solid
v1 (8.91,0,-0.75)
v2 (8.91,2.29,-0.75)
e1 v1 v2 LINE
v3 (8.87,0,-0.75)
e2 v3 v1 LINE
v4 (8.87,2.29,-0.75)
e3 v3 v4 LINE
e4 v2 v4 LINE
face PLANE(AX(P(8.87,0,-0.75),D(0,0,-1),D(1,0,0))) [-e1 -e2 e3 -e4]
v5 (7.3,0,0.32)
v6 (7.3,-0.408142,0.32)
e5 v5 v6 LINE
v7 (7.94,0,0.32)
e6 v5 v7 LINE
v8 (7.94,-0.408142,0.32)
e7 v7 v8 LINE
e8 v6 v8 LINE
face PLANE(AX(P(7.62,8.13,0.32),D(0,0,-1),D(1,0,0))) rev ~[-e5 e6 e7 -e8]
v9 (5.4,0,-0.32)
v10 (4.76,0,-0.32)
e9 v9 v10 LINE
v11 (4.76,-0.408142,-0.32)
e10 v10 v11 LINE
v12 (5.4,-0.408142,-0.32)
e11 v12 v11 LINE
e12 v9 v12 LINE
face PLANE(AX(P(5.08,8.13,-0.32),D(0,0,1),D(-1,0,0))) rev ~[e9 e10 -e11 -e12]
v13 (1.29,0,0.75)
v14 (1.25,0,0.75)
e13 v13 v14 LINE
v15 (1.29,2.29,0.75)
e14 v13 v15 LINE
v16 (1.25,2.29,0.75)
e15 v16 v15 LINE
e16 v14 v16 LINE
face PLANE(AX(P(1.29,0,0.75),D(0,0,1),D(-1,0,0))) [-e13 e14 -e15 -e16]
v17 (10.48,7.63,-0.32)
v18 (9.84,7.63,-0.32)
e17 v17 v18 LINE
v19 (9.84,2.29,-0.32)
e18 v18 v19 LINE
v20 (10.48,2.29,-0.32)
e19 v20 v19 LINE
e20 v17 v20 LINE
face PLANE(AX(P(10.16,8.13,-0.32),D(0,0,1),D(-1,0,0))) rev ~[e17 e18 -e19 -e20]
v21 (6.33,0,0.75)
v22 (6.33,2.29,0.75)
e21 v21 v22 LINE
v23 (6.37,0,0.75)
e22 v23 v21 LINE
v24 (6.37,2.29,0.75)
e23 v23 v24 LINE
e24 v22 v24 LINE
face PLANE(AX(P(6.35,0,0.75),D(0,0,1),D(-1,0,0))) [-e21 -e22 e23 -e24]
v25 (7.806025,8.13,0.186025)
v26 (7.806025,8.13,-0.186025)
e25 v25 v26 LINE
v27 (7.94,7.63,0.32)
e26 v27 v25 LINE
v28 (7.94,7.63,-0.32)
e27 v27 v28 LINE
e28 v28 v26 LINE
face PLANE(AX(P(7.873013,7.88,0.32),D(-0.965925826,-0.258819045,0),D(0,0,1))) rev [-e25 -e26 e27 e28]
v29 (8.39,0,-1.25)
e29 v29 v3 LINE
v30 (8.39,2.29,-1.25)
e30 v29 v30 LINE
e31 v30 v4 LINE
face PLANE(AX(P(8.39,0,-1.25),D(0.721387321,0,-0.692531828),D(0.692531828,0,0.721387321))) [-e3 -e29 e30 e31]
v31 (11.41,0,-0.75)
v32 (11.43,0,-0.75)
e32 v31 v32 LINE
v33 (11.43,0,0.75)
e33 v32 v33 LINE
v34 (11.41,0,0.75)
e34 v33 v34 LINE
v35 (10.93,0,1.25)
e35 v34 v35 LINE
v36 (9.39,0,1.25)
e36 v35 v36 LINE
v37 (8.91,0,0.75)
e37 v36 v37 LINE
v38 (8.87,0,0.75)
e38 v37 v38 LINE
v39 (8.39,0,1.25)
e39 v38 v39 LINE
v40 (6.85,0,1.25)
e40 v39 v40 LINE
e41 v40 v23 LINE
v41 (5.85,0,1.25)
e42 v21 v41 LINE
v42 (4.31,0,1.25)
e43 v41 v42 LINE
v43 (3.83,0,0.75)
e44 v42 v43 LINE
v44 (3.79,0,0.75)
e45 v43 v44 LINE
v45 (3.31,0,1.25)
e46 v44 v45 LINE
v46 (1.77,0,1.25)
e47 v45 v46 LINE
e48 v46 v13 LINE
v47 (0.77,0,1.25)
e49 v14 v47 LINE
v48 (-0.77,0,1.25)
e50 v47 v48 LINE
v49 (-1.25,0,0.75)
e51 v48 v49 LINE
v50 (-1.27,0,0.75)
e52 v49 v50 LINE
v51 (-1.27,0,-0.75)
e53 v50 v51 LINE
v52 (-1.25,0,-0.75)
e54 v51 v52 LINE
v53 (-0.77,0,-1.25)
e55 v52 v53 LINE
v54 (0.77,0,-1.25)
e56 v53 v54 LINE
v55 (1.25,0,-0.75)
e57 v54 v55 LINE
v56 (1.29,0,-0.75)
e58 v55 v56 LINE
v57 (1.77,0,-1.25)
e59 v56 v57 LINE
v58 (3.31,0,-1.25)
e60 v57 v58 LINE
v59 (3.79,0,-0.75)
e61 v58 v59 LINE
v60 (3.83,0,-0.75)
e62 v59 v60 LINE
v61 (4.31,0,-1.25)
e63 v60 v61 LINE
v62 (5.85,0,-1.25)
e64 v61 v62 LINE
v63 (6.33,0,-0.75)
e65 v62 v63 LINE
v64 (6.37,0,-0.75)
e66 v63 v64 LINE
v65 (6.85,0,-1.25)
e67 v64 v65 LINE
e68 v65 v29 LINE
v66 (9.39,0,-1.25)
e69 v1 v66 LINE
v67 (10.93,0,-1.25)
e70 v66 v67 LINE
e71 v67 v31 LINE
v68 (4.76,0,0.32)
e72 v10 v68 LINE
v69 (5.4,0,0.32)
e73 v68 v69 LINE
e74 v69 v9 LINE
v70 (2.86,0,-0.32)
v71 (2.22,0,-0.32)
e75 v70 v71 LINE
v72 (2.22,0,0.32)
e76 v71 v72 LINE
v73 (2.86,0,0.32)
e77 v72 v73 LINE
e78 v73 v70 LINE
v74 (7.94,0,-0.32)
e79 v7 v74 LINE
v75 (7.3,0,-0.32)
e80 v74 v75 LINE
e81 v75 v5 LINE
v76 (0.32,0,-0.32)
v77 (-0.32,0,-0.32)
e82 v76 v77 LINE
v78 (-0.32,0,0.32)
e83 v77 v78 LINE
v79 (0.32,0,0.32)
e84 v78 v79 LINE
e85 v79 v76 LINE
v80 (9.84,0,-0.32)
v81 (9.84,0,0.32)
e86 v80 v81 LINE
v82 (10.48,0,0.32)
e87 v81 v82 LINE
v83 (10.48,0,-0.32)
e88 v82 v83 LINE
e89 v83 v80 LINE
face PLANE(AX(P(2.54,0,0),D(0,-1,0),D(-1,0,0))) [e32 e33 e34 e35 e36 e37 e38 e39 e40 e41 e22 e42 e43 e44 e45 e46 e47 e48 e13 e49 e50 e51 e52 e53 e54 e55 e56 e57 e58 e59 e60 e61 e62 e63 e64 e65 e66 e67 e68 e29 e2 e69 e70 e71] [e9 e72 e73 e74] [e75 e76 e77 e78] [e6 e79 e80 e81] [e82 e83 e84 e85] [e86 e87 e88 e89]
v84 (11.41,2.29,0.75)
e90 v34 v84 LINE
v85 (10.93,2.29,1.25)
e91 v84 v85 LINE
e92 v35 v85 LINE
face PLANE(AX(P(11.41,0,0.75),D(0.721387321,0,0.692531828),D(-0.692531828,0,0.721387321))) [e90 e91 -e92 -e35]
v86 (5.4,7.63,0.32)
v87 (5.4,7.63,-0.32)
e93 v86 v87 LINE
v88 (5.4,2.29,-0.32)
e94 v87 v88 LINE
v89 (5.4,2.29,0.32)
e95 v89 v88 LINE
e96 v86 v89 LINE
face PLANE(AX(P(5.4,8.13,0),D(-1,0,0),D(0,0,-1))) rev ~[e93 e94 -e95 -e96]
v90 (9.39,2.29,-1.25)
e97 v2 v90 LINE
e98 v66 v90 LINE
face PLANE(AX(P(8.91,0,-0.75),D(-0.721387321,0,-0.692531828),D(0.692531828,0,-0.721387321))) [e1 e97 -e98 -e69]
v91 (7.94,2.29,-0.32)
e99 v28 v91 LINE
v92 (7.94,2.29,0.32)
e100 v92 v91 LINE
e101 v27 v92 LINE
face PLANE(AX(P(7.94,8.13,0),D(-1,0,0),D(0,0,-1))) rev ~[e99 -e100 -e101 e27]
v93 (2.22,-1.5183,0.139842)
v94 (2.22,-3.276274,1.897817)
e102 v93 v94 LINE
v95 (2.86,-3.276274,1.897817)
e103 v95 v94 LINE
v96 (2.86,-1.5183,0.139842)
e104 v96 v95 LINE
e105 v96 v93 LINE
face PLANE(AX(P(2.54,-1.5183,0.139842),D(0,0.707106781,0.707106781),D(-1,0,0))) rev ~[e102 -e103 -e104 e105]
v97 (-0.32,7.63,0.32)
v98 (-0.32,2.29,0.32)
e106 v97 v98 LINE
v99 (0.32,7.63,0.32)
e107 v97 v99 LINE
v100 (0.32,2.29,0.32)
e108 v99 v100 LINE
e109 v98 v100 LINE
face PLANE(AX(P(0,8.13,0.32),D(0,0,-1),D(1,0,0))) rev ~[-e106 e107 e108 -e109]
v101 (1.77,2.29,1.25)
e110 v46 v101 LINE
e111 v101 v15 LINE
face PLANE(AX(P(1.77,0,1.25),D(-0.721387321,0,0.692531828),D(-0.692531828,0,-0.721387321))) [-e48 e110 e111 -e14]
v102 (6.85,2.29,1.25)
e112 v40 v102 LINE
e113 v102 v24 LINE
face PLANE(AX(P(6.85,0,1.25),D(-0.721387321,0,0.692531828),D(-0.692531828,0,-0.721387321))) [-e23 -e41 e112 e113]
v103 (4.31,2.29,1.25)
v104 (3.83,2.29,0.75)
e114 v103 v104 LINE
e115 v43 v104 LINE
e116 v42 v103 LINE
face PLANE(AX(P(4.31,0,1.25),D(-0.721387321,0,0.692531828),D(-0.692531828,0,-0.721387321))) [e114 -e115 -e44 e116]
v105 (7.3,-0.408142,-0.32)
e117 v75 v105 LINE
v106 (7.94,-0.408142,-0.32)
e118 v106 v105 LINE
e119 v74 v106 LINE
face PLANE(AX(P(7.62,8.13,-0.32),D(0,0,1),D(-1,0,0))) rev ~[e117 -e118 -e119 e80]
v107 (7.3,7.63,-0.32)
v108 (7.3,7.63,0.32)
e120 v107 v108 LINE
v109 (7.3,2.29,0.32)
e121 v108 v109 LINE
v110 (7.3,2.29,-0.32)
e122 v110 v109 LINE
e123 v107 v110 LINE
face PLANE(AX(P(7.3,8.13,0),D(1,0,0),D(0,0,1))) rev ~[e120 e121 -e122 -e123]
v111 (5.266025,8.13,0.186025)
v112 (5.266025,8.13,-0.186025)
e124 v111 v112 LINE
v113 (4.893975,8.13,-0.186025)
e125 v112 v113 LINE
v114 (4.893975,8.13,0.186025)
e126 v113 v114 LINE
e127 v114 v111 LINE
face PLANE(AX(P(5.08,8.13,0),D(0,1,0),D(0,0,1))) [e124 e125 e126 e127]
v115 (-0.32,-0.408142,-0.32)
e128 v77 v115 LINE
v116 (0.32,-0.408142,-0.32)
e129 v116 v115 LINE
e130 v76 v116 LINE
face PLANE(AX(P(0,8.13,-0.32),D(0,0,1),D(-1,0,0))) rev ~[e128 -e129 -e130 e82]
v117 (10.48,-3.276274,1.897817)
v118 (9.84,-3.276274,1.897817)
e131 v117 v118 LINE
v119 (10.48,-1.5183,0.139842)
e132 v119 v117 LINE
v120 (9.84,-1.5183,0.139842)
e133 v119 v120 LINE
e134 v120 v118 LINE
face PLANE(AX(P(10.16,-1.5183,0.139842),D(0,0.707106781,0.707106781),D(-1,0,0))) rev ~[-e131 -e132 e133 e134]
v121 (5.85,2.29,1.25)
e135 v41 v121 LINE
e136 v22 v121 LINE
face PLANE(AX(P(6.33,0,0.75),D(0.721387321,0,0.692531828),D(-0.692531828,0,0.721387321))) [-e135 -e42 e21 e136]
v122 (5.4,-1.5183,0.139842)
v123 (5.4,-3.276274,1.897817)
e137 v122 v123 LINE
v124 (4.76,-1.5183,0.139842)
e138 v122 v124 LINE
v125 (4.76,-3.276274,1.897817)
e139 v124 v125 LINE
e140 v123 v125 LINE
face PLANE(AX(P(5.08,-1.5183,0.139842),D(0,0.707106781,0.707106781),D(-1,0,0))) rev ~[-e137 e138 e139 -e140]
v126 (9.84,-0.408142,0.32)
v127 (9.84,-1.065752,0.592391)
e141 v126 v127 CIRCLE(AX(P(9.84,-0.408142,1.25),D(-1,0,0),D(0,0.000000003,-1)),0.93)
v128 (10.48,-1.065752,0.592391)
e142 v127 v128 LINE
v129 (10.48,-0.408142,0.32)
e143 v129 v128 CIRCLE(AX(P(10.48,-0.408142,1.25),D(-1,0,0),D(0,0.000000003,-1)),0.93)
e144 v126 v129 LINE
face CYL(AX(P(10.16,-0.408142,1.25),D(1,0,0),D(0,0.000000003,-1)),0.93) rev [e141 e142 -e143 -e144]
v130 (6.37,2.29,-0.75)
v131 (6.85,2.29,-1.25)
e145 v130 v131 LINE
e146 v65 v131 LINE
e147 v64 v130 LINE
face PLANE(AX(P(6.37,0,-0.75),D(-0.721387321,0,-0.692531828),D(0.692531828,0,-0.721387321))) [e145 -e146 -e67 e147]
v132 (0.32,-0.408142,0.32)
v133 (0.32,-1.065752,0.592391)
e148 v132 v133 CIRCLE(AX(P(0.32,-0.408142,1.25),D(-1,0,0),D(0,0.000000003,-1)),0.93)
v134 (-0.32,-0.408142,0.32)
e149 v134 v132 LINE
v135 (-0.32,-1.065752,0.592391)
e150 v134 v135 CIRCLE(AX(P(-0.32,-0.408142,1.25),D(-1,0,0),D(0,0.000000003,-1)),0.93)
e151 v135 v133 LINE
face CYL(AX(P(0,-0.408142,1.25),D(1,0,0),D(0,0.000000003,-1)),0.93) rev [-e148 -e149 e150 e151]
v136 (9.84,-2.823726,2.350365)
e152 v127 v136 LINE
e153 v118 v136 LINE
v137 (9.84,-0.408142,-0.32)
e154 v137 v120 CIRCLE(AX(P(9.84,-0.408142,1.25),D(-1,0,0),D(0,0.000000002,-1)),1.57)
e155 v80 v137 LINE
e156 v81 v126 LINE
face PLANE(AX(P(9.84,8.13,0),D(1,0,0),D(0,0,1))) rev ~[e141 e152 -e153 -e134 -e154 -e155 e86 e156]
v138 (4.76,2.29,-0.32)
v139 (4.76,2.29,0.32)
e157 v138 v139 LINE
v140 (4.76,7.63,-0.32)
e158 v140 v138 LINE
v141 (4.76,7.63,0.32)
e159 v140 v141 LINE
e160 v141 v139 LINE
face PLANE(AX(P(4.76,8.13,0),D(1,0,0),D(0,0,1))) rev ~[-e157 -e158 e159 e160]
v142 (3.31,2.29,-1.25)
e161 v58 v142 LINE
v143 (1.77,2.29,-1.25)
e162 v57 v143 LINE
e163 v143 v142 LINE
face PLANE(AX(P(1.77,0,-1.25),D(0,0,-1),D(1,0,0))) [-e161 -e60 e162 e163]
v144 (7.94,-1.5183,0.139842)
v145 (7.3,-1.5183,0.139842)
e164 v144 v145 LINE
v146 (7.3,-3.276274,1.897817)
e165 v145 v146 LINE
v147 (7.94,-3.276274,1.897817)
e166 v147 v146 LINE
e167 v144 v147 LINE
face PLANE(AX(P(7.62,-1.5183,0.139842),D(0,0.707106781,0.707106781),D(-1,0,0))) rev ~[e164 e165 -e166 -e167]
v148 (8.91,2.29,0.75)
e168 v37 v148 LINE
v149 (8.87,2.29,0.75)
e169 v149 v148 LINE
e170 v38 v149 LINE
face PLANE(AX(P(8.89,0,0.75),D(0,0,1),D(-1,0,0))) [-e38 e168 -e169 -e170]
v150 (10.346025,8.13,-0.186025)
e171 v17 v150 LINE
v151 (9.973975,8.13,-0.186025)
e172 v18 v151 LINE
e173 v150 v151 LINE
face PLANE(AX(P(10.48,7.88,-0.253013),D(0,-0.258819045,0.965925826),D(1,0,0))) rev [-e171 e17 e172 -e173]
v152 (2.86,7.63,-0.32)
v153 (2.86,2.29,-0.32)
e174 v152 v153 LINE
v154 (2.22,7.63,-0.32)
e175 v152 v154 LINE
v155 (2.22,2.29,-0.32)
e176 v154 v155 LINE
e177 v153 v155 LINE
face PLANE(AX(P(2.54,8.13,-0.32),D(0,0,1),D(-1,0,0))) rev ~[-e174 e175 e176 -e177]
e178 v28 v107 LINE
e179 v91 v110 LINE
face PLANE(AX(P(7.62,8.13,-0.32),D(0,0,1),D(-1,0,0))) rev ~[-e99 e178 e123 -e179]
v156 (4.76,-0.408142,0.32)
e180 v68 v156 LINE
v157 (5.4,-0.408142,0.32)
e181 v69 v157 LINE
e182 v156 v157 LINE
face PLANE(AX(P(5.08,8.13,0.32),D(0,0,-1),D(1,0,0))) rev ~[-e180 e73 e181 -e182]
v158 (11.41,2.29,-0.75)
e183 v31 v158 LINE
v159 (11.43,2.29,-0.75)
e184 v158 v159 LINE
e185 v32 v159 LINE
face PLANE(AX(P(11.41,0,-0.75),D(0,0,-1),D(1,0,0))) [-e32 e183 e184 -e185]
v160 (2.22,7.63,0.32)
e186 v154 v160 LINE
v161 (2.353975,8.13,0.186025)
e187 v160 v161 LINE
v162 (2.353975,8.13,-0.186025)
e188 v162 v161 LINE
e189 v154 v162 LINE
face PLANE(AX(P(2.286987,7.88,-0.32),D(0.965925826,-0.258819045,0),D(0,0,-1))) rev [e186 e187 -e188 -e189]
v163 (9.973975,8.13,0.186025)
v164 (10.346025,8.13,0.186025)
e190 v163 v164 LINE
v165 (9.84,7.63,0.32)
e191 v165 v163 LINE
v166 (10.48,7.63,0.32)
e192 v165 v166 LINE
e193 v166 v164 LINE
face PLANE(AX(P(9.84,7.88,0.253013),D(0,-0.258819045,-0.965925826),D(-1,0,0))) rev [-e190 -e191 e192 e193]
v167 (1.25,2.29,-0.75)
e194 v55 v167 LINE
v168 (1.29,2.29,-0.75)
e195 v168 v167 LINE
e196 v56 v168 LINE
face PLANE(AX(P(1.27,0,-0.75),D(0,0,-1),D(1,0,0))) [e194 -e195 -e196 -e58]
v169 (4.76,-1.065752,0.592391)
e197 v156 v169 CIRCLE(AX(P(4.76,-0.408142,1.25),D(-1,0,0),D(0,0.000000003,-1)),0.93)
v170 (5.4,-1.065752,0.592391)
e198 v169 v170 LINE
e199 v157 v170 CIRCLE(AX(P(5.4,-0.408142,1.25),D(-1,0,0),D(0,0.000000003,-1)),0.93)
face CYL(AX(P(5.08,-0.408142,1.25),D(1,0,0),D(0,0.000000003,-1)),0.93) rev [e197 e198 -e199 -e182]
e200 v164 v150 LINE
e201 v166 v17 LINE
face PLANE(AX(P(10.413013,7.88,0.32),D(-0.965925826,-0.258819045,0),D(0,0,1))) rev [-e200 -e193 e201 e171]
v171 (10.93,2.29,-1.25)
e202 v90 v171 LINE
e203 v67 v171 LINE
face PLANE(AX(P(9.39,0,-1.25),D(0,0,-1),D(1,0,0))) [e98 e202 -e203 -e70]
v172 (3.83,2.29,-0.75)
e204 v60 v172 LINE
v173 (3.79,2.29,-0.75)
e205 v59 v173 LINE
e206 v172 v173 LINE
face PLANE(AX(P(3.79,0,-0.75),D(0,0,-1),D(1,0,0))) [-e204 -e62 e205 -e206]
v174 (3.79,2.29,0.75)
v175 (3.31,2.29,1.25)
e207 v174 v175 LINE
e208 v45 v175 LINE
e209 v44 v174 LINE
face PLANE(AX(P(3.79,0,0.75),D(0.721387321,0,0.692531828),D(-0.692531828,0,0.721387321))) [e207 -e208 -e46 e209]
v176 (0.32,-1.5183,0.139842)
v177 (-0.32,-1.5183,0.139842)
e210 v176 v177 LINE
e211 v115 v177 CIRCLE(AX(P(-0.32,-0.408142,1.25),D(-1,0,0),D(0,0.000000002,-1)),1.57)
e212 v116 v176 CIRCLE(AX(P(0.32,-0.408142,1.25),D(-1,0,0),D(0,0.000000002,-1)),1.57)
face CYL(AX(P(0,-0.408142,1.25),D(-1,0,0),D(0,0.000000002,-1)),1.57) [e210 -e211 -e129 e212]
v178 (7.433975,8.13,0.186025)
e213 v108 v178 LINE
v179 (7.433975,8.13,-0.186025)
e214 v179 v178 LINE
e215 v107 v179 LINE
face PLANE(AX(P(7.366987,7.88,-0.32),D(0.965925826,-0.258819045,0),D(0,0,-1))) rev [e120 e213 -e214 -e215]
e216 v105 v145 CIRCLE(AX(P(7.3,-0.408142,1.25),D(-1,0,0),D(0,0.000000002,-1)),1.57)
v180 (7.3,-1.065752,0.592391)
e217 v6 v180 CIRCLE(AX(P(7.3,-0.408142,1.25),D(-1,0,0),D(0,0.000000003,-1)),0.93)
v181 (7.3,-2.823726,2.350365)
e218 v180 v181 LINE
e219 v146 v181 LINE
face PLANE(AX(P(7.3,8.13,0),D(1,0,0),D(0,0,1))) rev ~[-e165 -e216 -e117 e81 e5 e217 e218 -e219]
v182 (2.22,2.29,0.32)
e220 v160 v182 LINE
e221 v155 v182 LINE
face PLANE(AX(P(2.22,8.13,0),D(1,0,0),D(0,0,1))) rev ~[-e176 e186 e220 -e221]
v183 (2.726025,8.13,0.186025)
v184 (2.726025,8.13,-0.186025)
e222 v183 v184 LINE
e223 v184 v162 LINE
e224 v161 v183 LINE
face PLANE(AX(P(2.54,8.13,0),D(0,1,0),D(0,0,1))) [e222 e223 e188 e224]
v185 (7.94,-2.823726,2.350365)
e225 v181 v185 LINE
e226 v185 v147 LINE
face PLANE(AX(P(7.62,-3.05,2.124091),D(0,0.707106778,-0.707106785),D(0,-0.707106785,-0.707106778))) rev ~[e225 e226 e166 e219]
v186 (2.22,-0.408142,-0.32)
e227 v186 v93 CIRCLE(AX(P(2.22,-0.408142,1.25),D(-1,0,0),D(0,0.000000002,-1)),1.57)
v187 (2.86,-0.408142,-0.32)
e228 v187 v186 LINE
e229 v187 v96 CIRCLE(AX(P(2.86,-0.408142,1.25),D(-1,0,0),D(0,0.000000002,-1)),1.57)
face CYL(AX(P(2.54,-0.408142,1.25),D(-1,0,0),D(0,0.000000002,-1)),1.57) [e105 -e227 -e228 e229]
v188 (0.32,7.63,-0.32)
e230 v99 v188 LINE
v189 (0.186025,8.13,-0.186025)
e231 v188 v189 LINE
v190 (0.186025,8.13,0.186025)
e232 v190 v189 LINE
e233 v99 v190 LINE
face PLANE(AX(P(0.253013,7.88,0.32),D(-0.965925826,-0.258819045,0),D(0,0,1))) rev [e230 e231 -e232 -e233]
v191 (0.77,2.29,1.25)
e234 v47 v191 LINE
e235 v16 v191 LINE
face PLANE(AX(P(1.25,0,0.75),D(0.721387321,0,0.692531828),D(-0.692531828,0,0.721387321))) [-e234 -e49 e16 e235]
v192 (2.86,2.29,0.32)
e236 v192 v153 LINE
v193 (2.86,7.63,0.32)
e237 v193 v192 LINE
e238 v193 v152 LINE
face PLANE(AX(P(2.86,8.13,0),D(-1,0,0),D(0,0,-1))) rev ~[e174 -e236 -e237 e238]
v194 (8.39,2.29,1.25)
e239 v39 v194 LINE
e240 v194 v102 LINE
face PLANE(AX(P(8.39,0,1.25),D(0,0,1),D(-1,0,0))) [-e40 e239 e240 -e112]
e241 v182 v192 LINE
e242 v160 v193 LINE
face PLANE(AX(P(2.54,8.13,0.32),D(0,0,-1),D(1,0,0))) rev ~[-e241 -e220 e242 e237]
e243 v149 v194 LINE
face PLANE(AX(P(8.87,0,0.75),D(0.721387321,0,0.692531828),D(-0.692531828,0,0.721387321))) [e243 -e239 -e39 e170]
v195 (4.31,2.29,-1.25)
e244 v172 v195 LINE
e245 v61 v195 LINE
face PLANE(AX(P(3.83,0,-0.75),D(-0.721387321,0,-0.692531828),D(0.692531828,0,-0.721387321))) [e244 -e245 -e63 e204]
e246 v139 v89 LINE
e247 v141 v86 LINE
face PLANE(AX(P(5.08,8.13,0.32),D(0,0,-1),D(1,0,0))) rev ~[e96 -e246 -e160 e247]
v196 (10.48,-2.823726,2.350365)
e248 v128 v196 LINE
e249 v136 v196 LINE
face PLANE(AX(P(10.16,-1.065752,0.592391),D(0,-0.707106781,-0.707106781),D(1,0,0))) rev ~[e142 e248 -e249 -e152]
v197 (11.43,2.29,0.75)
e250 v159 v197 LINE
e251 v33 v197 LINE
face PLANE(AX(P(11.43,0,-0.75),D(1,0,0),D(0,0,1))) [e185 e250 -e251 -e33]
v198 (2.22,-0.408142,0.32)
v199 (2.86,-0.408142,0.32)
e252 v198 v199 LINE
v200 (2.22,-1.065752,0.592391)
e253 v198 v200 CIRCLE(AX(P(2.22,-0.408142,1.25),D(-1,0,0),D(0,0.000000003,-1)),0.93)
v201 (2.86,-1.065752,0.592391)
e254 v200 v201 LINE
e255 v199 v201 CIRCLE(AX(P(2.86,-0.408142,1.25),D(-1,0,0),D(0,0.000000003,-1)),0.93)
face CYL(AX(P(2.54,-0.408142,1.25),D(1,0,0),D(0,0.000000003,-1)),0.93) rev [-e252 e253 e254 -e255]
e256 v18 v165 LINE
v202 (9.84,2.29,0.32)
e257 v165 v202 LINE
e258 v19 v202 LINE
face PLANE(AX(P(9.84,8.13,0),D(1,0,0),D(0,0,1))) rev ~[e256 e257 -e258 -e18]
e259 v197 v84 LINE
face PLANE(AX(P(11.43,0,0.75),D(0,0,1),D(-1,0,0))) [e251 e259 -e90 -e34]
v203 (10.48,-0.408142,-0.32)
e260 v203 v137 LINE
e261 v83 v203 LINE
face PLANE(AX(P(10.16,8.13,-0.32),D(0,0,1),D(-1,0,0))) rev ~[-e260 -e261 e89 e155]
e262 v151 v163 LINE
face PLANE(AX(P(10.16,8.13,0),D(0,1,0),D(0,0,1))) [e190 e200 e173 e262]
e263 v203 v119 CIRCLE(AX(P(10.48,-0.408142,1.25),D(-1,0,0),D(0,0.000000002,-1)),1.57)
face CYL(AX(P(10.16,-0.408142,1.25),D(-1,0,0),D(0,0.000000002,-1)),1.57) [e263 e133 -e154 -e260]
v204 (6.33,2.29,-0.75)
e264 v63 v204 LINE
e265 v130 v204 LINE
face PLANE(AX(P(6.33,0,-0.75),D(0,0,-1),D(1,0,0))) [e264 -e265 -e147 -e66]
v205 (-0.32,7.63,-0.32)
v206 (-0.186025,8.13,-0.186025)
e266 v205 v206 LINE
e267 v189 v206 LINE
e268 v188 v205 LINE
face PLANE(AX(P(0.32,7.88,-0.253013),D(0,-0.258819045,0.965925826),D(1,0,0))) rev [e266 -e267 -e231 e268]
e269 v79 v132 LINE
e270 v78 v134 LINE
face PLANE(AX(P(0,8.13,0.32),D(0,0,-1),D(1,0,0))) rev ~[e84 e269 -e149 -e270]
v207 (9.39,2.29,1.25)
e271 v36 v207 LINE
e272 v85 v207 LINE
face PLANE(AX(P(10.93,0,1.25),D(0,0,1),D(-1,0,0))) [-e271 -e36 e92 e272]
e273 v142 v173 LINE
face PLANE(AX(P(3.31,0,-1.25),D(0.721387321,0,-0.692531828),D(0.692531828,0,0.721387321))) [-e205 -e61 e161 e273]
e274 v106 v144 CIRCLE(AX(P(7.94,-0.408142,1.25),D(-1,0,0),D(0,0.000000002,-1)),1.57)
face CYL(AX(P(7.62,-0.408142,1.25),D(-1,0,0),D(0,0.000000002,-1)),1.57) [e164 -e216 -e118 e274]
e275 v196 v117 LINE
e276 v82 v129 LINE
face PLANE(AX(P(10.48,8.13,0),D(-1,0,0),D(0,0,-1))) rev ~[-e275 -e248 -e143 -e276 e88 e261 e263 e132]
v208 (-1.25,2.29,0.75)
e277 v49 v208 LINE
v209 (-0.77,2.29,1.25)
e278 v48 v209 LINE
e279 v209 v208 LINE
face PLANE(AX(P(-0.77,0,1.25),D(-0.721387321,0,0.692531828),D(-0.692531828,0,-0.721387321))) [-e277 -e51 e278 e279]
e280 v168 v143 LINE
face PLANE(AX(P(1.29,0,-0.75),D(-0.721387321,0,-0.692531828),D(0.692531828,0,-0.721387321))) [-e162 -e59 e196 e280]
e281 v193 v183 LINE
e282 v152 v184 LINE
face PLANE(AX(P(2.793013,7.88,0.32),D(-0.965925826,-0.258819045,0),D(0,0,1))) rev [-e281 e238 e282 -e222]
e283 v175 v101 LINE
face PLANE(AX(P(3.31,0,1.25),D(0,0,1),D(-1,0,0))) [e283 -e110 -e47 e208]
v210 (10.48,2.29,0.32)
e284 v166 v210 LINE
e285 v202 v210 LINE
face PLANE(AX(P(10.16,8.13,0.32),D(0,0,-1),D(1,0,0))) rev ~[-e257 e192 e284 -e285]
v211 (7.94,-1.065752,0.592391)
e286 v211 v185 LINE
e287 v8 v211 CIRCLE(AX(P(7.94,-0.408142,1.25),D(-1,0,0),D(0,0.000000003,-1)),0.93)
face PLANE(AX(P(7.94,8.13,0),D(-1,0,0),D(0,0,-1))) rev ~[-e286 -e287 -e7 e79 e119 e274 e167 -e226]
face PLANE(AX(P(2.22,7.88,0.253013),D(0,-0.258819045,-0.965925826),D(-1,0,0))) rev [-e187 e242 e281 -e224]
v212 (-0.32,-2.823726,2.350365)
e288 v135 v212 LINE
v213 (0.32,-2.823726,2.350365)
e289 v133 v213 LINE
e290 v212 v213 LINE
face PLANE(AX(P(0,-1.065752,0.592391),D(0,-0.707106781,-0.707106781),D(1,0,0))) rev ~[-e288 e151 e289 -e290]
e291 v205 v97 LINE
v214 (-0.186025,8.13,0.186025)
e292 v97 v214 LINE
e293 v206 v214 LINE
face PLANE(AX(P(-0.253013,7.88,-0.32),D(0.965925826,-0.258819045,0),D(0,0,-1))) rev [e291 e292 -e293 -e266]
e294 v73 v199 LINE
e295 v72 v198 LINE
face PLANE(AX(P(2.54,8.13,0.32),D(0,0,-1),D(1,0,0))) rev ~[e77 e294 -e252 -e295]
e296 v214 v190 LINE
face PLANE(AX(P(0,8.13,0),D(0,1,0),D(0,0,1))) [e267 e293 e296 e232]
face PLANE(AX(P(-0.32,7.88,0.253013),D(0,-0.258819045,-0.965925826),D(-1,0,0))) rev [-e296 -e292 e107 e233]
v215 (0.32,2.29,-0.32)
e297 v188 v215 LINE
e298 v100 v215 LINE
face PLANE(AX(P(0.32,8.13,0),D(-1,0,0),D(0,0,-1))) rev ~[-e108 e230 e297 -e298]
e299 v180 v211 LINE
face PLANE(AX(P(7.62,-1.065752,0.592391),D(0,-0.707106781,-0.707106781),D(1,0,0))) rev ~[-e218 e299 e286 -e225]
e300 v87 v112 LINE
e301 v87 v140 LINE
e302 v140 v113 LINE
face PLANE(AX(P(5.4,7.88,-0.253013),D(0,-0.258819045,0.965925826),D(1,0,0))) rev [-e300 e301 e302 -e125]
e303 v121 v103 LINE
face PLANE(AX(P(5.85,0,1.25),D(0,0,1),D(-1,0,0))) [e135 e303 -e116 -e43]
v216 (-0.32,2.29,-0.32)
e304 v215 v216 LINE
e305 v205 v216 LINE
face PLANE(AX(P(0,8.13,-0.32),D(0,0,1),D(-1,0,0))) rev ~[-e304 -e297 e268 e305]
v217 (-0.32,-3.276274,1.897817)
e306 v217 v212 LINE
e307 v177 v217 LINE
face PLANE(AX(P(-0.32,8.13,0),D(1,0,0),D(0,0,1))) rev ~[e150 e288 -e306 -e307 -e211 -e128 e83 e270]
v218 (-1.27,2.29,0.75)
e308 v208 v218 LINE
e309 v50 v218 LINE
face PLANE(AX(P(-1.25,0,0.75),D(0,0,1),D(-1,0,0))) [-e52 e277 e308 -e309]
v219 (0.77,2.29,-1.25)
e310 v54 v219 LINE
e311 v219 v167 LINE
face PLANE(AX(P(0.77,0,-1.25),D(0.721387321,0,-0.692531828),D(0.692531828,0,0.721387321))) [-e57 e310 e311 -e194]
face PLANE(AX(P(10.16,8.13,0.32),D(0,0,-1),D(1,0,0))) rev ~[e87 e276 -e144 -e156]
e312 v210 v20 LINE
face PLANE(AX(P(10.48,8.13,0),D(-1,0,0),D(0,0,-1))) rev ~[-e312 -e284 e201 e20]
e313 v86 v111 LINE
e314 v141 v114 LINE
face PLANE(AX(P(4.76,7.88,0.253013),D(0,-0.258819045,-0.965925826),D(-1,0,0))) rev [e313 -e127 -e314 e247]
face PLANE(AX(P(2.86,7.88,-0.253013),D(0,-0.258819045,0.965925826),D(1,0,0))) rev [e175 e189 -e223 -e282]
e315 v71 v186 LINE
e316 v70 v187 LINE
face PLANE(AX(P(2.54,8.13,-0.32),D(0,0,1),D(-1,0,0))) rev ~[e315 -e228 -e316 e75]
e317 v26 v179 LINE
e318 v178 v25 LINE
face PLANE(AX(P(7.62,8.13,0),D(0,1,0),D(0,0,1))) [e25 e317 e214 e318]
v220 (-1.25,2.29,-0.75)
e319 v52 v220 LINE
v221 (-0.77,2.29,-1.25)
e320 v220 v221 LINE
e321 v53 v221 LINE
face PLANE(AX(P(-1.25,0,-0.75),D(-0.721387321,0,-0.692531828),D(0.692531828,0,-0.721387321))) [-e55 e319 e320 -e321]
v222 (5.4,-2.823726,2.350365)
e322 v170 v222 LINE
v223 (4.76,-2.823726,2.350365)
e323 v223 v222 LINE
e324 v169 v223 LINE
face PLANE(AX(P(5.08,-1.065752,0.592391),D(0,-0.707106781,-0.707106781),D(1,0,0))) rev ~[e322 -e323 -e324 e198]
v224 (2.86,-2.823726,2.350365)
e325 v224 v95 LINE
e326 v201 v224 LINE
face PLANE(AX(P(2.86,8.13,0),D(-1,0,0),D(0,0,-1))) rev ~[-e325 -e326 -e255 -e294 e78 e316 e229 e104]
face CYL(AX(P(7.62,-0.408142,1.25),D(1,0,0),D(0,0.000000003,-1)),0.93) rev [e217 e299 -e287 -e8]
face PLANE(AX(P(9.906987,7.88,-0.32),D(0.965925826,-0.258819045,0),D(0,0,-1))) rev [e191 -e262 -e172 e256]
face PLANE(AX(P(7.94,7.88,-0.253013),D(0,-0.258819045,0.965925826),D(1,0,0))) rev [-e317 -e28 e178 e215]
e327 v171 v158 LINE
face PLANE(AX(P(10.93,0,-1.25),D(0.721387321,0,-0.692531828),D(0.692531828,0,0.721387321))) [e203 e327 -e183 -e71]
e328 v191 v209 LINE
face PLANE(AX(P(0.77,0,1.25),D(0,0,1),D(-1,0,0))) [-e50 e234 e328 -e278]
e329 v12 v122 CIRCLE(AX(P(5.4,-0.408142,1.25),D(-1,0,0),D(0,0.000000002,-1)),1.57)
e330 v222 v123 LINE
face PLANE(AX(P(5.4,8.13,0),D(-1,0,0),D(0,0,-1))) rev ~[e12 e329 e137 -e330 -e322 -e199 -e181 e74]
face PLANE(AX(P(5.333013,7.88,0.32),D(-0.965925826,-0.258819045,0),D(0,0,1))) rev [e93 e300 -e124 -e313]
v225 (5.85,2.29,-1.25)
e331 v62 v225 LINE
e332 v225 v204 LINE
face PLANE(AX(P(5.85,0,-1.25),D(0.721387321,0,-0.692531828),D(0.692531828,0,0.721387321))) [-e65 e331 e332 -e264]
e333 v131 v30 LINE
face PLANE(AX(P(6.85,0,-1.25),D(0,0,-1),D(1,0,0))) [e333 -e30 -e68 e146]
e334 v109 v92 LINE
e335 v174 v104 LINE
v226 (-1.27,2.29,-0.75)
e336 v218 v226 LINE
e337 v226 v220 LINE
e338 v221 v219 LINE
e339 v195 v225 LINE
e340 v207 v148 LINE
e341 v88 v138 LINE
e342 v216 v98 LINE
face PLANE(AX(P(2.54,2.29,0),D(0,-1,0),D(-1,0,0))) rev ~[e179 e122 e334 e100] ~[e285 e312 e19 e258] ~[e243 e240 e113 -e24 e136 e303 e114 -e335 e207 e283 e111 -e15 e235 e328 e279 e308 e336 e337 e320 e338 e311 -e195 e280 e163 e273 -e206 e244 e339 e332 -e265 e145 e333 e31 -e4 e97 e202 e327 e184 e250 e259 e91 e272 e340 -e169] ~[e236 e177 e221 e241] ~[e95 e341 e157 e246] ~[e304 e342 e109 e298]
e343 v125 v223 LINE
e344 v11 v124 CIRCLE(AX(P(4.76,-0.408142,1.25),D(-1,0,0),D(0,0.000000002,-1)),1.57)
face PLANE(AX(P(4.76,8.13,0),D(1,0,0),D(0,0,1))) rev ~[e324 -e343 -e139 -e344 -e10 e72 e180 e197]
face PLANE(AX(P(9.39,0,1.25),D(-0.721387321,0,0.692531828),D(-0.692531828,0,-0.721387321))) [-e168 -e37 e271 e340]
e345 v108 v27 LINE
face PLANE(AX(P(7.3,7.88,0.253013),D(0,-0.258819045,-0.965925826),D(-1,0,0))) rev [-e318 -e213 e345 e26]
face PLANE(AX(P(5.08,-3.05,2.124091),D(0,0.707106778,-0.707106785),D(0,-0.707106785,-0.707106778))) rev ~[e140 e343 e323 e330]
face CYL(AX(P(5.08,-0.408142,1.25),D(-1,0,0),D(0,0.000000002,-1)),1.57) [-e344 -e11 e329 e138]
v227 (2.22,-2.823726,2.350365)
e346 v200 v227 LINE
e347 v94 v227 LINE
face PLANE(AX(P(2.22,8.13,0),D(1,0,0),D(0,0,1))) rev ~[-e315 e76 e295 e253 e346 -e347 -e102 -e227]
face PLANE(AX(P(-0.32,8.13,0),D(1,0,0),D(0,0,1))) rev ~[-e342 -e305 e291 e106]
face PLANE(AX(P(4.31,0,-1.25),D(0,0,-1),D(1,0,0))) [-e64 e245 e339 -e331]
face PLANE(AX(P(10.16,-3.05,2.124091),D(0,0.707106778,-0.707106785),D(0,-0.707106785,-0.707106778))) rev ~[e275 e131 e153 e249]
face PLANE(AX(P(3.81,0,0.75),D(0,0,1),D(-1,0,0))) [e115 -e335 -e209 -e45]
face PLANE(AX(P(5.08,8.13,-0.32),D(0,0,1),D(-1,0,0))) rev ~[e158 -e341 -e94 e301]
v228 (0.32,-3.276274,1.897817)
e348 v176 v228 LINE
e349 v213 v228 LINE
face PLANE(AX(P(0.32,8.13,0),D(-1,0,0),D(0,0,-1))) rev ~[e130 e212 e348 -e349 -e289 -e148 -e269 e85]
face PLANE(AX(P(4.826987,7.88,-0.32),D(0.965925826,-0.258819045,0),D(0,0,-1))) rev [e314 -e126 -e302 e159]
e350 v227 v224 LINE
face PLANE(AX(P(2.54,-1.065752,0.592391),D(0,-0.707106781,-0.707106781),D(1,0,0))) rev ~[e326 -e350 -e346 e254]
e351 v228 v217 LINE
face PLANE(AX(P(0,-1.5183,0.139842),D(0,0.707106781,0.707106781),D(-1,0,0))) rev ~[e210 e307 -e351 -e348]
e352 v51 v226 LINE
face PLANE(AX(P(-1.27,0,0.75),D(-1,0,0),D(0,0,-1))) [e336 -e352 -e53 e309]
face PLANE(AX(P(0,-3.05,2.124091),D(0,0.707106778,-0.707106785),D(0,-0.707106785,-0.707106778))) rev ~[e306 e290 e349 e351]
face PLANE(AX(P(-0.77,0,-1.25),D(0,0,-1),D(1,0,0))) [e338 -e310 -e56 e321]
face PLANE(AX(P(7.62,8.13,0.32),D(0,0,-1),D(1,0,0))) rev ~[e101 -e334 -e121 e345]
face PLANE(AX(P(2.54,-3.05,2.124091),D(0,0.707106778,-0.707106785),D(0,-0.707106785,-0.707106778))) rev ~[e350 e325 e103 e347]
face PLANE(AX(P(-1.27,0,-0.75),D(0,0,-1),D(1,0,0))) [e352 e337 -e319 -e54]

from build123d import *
from OCP.BRepFilletAPI import BRepFilletAPI_MakeChamfer

# Parameters (mm, degrees)
BOSS_EXTRUDE1_DEPTH         = 2.29
SKETCH3_W                   = 0.64
SKETCH3_H                   = 0.64
CHAMFER3_SIZE               = 0.5
CHAMFER3_SIZE2              = 0.133974596
LPATTERN1_COUNT             = 5
LPATTERN1_PITCH             = 2.54
CHAMFER3_OF_LPATTERN1_SIZE  = 0.5
CHAMFER3_OF_LPATTERN1_SIZE2 = 0.133974596


with BuildPart() as part:
    # Sketch1 → Boss-Extrude1 (new body)
    with BuildSketch(Plane(origin=(0, 0, 0), x_dir=(1, 0, 0), z_dir=(0, 1, 0))):
        Polygon((-0.77, 1.25), (0.77, 1.25), (1.25, 0.75), (1.27, 0.75), (1.27, -0.75), (1.25, -0.75), (0.77, -1.25), (-0.77, -1.25), (-1.25, -0.75), (-1.27, -0.75), (-1.27, 0.75), (-1.25, 0.75), align=None)
    boss_extrude1 = extrude(amount=BOSS_EXTRUDE1_DEPTH)

    # Sweep1: sweep along a path in Sketch2
    with BuildLine(Plane(origin=(0, 0, 0), x_dir=(0, 0, -1), z_dir=(1, 0, 0))) as sweep1_path:
        Line((0, 8.13), (0, -0.408142235))
        ThreePointArc((0, -0.408142235), (-0.095150584, -0.886496526), (-0.366116524, -1.292025712))
        Line((-0.366116524, -1.292025712), (-2.124090812, -3.05))
    # Sketch3 → Sweep1 (sweep)
    with BuildSketch(Plane(origin=(0, 8.13, 0), x_dir=(1, 0, 0), z_dir=(0, 1, 0))):
        Rectangle(SKETCH3_W, SKETCH3_H)
    sweep1 = sweep(path=sweep1_path.line)

    # Chamfer3: one chamfer whose edges measure the first distance from different faces: ONE call of the kernel's chamfer builder (chamfer() names one face for all edges)
    chamfer3_edges_1 = [part.edges().sort_by_distance(p)[0] for p in [
        (0.32, 8.13, 0),
    ]]
    chamfer3_side_1 = [part.faces().sort_by_distance(p)[0] for p in [
        (0.32, 5.21, 0),
    ]]
    chamfer3_edges_2 = [part.edges().sort_by_distance(p)[0] for p in [
        (0, 8.13, -0.32),
    ]]
    chamfer3_side_2 = [part.faces().sort_by_distance(p)[0] for p in [
        (0, 5.21, -0.32),
    ]]
    chamfer3_edges_3 = [part.edges().sort_by_distance(p)[0] for p in [
        (-0.32, 8.13, 0),
    ]]
    chamfer3_side_3 = [part.faces().sort_by_distance(p)[0] for p in [
        (-0.32, 5.21, 0),
    ]]
    chamfer3_edges_4 = [part.edges().sort_by_distance(p)[0] for p in [
        (0, 8.13, 0.32),
    ]]
    chamfer3_side_4 = [part.faces().sort_by_distance(p)[0] for p in [
        (0, 5.21, 0.32),
    ]]
    chamfer3 = BRepFilletAPI_MakeChamfer(part.part.solid().wrapped)
    for e in chamfer3_edges_1:
        chamfer3.Add(CHAMFER3_SIZE, CHAMFER3_SIZE2, e.wrapped, chamfer3_side_1[0].wrapped)  # the first distance lies on this face
    for e in chamfer3_edges_2:
        chamfer3.Add(CHAMFER3_SIZE, CHAMFER3_SIZE2, e.wrapped, chamfer3_side_2[0].wrapped)  # the first distance lies on this face
    for e in chamfer3_edges_3:
        chamfer3.Add(CHAMFER3_SIZE, CHAMFER3_SIZE2, e.wrapped, chamfer3_side_3[0].wrapped)  # the first distance lies on this face
    for e in chamfer3_edges_4:
        chamfer3.Add(CHAMFER3_SIZE, CHAMFER3_SIZE2, e.wrapped, chamfer3_side_4[0].wrapped)  # the first distance lies on this face
    add(Compound.cast(chamfer3.Shape()), mode=Mode.REPLACE)

    # LPattern1: Boss-Extrude1, Sweep1 ×5
    with Locations(*[(i * LPATTERN1_PITCH, 0, 0) for i in range(1, LPATTERN1_COUNT)]):
        add(boss_extrude1)
        add(sweep1)

    # Chamfer3 of LPattern1: one chamfer whose edges measure the first distance from different faces: ONE call of the kernel's chamfer builder (chamfer() names one face for all edges)
    chamfer3_of_lpattern1_edges_1 = [part.edges().sort_by_distance(p)[0] for p in [
        (2.86, 8.13, 0),
    ]]
    chamfer3_of_lpattern1_side_1 = [part.faces().sort_by_distance(p)[0] for p in [
        (2.86, 5.21, 0),
    ]]
    chamfer3_of_lpattern1_edges_2 = [part.edges().sort_by_distance(p)[0] for p in [
        (2.54, 8.13, -0.32),
    ]]
    chamfer3_of_lpattern1_side_2 = [part.faces().sort_by_distance(p)[0] for p in [
        (2.54, 5.21, -0.32),
    ]]
    chamfer3_of_lpattern1_edges_3 = [part.edges().sort_by_distance(p)[0] for p in [
        (2.22, 8.13, 0),
    ]]
    chamfer3_of_lpattern1_side_3 = [part.faces().sort_by_distance(p)[0] for p in [
        (2.22, 5.21, 0),
    ]]
    chamfer3_of_lpattern1_edges_4 = [part.edges().sort_by_distance(p)[0] for p in [
        (2.54, 8.13, 0.32),
    ]]
    chamfer3_of_lpattern1_side_4 = [part.faces().sort_by_distance(p)[0] for p in [
        (2.54, 5.21, 0.32),
    ]]
    chamfer3_of_lpattern1_edges_5 = [part.edges().sort_by_distance(p)[0] for p in [
        (5.4, 8.13, 0),
    ]]
    chamfer3_of_lpattern1_side_5 = [part.faces().sort_by_distance(p)[0] for p in [
        (5.4, 5.21, 0),
    ]]
    chamfer3_of_lpattern1_edges_6 = [part.edges().sort_by_distance(p)[0] for p in [
        (5.08, 8.13, -0.32),
    ]]
    chamfer3_of_lpattern1_side_6 = [part.faces().sort_by_distance(p)[0] for p in [
        (5.08, 5.21, -0.32),
    ]]
    chamfer3_of_lpattern1_edges_7 = [part.edges().sort_by_distance(p)[0] for p in [
        (4.76, 8.13, 0),
    ]]
    chamfer3_of_lpattern1_side_7 = [part.faces().sort_by_distance(p)[0] for p in [
        (4.76, 5.21, 0),
    ]]
    chamfer3_of_lpattern1_edges_8 = [part.edges().sort_by_distance(p)[0] for p in [
        (5.08, 8.13, 0.32),
    ]]
    chamfer3_of_lpattern1_side_8 = [part.faces().sort_by_distance(p)[0] for p in [
        (5.08, 5.21, 0.32),
    ]]
    chamfer3_of_lpattern1_edges_9 = [part.edges().sort_by_distance(p)[0] for p in [
        (7.94, 8.13, 0),
    ]]
    chamfer3_of_lpattern1_side_9 = [part.faces().sort_by_distance(p)[0] for p in [
        (7.94, 5.21, 0),
    ]]
    chamfer3_of_lpattern1_edges_10 = [part.edges().sort_by_distance(p)[0] for p in [
        (7.62, 8.13, -0.32),
    ]]
    chamfer3_of_lpattern1_side_10 = [part.faces().sort_by_distance(p)[0] for p in [
        (7.62, 5.21, -0.32),
    ]]
    chamfer3_of_lpattern1_edges_11 = [part.edges().sort_by_distance(p)[0] for p in [
        (7.3, 8.13, 0),
    ]]
    chamfer3_of_lpattern1_side_11 = [part.faces().sort_by_distance(p)[0] for p in [
        (7.3, 5.21, 0),
    ]]
    chamfer3_of_lpattern1_edges_12 = [part.edges().sort_by_distance(p)[0] for p in [
        (7.62, 8.13, 0.32),
    ]]
    chamfer3_of_lpattern1_side_12 = [part.faces().sort_by_distance(p)[0] for p in [
        (7.62, 5.21, 0.32),
    ]]
    chamfer3_of_lpattern1_edges_13 = [part.edges().sort_by_distance(p)[0] for p in [
        (10.48, 8.13, 0),
    ]]
    chamfer3_of_lpattern1_side_13 = [part.faces().sort_by_distance(p)[0] for p in [
        (10.48, 5.21, 0),
    ]]
    chamfer3_of_lpattern1_edges_14 = [part.edges().sort_by_distance(p)[0] for p in [
        (10.16, 8.13, -0.32),
    ]]
    chamfer3_of_lpattern1_side_14 = [part.faces().sort_by_distance(p)[0] for p in [
        (10.16, 5.21, -0.32),
    ]]
    chamfer3_of_lpattern1_edges_15 = [part.edges().sort_by_distance(p)[0] for p in [
        (9.84, 8.13, 0),
    ]]
    chamfer3_of_lpattern1_side_15 = [part.faces().sort_by_distance(p)[0] for p in [
        (9.84, 5.21, 0),
    ]]
    chamfer3_of_lpattern1_edges_16 = [part.edges().sort_by_distance(p)[0] for p in [
        (10.16, 8.13, 0.32),
    ]]
    chamfer3_of_lpattern1_side_16 = [part.faces().sort_by_distance(p)[0] for p in [
        (10.16, 5.21, 0.32),
    ]]
    chamfer3_of_lpattern1 = BRepFilletAPI_MakeChamfer(part.part.solid().wrapped)
    for e in chamfer3_of_lpattern1_edges_1:
        chamfer3_of_lpattern1.Add(CHAMFER3_OF_LPATTERN1_SIZE, CHAMFER3_OF_LPATTERN1_SIZE2, e.wrapped, chamfer3_of_lpattern1_side_1[0].wrapped)  # the first distance lies on this face
    for e in chamfer3_of_lpattern1_edges_2:
        chamfer3_of_lpattern1.Add(CHAMFER3_OF_LPATTERN1_SIZE, CHAMFER3_OF_LPATTERN1_SIZE2, e.wrapped, chamfer3_of_lpattern1_side_2[0].wrapped)  # the first distance lies on this face
    for e in chamfer3_of_lpattern1_edges_3:
        chamfer3_of_lpattern1.Add(CHAMFER3_OF_LPATTERN1_SIZE, CHAMFER3_OF_LPATTERN1_SIZE2, e.wrapped, chamfer3_of_lpattern1_side_3[0].wrapped)  # the first distance lies on this face
    for e in chamfer3_of_lpattern1_edges_4:
        chamfer3_of_lpattern1.Add(CHAMFER3_OF_LPATTERN1_SIZE, CHAMFER3_OF_LPATTERN1_SIZE2, e.wrapped, chamfer3_of_lpattern1_side_4[0].wrapped)  # the first distance lies on this face
    for e in chamfer3_of_lpattern1_edges_5:
        chamfer3_of_lpattern1.Add(CHAMFER3_OF_LPATTERN1_SIZE, CHAMFER3_OF_LPATTERN1_SIZE2, e.wrapped, chamfer3_of_lpattern1_side_5[0].wrapped)  # the first distance lies on this face
    for e in chamfer3_of_lpattern1_edges_6:
        chamfer3_of_lpattern1.Add(CHAMFER3_OF_LPATTERN1_SIZE, CHAMFER3_OF_LPATTERN1_SIZE2, e.wrapped, chamfer3_of_lpattern1_side_6[0].wrapped)  # the first distance lies on this face
    for e in chamfer3_of_lpattern1_edges_7:
        chamfer3_of_lpattern1.Add(CHAMFER3_OF_LPATTERN1_SIZE, CHAMFER3_OF_LPATTERN1_SIZE2, e.wrapped, chamfer3_of_lpattern1_side_7[0].wrapped)  # the first distance lies on this face
    for e in chamfer3_of_lpattern1_edges_8:
        chamfer3_of_lpattern1.Add(CHAMFER3_OF_LPATTERN1_SIZE, CHAMFER3_OF_LPATTERN1_SIZE2, e.wrapped, chamfer3_of_lpattern1_side_8[0].wrapped)  # the first distance lies on this face
    for e in chamfer3_of_lpattern1_edges_9:
        chamfer3_of_lpattern1.Add(CHAMFER3_OF_LPATTERN1_SIZE, CHAMFER3_OF_LPATTERN1_SIZE2, e.wrapped, chamfer3_of_lpattern1_side_9[0].wrapped)  # the first distance lies on this face
    for e in chamfer3_of_lpattern1_edges_10:
        chamfer3_of_lpattern1.Add(CHAMFER3_OF_LPATTERN1_SIZE, CHAMFER3_OF_LPATTERN1_SIZE2, e.wrapped, chamfer3_of_lpattern1_side_10[0].wrapped)  # the first distance lies on this face
    for e in chamfer3_of_lpattern1_edges_11:
        chamfer3_of_lpattern1.Add(CHAMFER3_OF_LPATTERN1_SIZE, CHAMFER3_OF_LPATTERN1_SIZE2, e.wrapped, chamfer3_of_lpattern1_side_11[0].wrapped)  # the first distance lies on this face
    for e in chamfer3_of_lpattern1_edges_12:
        chamfer3_of_lpattern1.Add(CHAMFER3_OF_LPATTERN1_SIZE, CHAMFER3_OF_LPATTERN1_SIZE2, e.wrapped, chamfer3_of_lpattern1_side_12[0].wrapped)  # the first distance lies on this face
    for e in chamfer3_of_lpattern1_edges_13:
        chamfer3_of_lpattern1.Add(CHAMFER3_OF_LPATTERN1_SIZE, CHAMFER3_OF_LPATTERN1_SIZE2, e.wrapped, chamfer3_of_lpattern1_side_13[0].wrapped)  # the first distance lies on this face
    for e in chamfer3_of_lpattern1_edges_14:
        chamfer3_of_lpattern1.Add(CHAMFER3_OF_LPATTERN1_SIZE, CHAMFER3_OF_LPATTERN1_SIZE2, e.wrapped, chamfer3_of_lpattern1_side_14[0].wrapped)  # the first distance lies on this face
    for e in chamfer3_of_lpattern1_edges_15:
        chamfer3_of_lpattern1.Add(CHAMFER3_OF_LPATTERN1_SIZE, CHAMFER3_OF_LPATTERN1_SIZE2, e.wrapped, chamfer3_of_lpattern1_side_15[0].wrapped)  # the first distance lies on this face
    for e in chamfer3_of_lpattern1_edges_16:
        chamfer3_of_lpattern1.Add(CHAMFER3_OF_LPATTERN1_SIZE, CHAMFER3_OF_LPATTERN1_SIZE2, e.wrapped, chamfer3_of_lpattern1_side_16[0].wrapped)  # the first distance lies on this face
    add(Compound.cast(chamfer3_of_lpattern1.Shape()), mode=Mode.REPLACE)


solid = part.part
